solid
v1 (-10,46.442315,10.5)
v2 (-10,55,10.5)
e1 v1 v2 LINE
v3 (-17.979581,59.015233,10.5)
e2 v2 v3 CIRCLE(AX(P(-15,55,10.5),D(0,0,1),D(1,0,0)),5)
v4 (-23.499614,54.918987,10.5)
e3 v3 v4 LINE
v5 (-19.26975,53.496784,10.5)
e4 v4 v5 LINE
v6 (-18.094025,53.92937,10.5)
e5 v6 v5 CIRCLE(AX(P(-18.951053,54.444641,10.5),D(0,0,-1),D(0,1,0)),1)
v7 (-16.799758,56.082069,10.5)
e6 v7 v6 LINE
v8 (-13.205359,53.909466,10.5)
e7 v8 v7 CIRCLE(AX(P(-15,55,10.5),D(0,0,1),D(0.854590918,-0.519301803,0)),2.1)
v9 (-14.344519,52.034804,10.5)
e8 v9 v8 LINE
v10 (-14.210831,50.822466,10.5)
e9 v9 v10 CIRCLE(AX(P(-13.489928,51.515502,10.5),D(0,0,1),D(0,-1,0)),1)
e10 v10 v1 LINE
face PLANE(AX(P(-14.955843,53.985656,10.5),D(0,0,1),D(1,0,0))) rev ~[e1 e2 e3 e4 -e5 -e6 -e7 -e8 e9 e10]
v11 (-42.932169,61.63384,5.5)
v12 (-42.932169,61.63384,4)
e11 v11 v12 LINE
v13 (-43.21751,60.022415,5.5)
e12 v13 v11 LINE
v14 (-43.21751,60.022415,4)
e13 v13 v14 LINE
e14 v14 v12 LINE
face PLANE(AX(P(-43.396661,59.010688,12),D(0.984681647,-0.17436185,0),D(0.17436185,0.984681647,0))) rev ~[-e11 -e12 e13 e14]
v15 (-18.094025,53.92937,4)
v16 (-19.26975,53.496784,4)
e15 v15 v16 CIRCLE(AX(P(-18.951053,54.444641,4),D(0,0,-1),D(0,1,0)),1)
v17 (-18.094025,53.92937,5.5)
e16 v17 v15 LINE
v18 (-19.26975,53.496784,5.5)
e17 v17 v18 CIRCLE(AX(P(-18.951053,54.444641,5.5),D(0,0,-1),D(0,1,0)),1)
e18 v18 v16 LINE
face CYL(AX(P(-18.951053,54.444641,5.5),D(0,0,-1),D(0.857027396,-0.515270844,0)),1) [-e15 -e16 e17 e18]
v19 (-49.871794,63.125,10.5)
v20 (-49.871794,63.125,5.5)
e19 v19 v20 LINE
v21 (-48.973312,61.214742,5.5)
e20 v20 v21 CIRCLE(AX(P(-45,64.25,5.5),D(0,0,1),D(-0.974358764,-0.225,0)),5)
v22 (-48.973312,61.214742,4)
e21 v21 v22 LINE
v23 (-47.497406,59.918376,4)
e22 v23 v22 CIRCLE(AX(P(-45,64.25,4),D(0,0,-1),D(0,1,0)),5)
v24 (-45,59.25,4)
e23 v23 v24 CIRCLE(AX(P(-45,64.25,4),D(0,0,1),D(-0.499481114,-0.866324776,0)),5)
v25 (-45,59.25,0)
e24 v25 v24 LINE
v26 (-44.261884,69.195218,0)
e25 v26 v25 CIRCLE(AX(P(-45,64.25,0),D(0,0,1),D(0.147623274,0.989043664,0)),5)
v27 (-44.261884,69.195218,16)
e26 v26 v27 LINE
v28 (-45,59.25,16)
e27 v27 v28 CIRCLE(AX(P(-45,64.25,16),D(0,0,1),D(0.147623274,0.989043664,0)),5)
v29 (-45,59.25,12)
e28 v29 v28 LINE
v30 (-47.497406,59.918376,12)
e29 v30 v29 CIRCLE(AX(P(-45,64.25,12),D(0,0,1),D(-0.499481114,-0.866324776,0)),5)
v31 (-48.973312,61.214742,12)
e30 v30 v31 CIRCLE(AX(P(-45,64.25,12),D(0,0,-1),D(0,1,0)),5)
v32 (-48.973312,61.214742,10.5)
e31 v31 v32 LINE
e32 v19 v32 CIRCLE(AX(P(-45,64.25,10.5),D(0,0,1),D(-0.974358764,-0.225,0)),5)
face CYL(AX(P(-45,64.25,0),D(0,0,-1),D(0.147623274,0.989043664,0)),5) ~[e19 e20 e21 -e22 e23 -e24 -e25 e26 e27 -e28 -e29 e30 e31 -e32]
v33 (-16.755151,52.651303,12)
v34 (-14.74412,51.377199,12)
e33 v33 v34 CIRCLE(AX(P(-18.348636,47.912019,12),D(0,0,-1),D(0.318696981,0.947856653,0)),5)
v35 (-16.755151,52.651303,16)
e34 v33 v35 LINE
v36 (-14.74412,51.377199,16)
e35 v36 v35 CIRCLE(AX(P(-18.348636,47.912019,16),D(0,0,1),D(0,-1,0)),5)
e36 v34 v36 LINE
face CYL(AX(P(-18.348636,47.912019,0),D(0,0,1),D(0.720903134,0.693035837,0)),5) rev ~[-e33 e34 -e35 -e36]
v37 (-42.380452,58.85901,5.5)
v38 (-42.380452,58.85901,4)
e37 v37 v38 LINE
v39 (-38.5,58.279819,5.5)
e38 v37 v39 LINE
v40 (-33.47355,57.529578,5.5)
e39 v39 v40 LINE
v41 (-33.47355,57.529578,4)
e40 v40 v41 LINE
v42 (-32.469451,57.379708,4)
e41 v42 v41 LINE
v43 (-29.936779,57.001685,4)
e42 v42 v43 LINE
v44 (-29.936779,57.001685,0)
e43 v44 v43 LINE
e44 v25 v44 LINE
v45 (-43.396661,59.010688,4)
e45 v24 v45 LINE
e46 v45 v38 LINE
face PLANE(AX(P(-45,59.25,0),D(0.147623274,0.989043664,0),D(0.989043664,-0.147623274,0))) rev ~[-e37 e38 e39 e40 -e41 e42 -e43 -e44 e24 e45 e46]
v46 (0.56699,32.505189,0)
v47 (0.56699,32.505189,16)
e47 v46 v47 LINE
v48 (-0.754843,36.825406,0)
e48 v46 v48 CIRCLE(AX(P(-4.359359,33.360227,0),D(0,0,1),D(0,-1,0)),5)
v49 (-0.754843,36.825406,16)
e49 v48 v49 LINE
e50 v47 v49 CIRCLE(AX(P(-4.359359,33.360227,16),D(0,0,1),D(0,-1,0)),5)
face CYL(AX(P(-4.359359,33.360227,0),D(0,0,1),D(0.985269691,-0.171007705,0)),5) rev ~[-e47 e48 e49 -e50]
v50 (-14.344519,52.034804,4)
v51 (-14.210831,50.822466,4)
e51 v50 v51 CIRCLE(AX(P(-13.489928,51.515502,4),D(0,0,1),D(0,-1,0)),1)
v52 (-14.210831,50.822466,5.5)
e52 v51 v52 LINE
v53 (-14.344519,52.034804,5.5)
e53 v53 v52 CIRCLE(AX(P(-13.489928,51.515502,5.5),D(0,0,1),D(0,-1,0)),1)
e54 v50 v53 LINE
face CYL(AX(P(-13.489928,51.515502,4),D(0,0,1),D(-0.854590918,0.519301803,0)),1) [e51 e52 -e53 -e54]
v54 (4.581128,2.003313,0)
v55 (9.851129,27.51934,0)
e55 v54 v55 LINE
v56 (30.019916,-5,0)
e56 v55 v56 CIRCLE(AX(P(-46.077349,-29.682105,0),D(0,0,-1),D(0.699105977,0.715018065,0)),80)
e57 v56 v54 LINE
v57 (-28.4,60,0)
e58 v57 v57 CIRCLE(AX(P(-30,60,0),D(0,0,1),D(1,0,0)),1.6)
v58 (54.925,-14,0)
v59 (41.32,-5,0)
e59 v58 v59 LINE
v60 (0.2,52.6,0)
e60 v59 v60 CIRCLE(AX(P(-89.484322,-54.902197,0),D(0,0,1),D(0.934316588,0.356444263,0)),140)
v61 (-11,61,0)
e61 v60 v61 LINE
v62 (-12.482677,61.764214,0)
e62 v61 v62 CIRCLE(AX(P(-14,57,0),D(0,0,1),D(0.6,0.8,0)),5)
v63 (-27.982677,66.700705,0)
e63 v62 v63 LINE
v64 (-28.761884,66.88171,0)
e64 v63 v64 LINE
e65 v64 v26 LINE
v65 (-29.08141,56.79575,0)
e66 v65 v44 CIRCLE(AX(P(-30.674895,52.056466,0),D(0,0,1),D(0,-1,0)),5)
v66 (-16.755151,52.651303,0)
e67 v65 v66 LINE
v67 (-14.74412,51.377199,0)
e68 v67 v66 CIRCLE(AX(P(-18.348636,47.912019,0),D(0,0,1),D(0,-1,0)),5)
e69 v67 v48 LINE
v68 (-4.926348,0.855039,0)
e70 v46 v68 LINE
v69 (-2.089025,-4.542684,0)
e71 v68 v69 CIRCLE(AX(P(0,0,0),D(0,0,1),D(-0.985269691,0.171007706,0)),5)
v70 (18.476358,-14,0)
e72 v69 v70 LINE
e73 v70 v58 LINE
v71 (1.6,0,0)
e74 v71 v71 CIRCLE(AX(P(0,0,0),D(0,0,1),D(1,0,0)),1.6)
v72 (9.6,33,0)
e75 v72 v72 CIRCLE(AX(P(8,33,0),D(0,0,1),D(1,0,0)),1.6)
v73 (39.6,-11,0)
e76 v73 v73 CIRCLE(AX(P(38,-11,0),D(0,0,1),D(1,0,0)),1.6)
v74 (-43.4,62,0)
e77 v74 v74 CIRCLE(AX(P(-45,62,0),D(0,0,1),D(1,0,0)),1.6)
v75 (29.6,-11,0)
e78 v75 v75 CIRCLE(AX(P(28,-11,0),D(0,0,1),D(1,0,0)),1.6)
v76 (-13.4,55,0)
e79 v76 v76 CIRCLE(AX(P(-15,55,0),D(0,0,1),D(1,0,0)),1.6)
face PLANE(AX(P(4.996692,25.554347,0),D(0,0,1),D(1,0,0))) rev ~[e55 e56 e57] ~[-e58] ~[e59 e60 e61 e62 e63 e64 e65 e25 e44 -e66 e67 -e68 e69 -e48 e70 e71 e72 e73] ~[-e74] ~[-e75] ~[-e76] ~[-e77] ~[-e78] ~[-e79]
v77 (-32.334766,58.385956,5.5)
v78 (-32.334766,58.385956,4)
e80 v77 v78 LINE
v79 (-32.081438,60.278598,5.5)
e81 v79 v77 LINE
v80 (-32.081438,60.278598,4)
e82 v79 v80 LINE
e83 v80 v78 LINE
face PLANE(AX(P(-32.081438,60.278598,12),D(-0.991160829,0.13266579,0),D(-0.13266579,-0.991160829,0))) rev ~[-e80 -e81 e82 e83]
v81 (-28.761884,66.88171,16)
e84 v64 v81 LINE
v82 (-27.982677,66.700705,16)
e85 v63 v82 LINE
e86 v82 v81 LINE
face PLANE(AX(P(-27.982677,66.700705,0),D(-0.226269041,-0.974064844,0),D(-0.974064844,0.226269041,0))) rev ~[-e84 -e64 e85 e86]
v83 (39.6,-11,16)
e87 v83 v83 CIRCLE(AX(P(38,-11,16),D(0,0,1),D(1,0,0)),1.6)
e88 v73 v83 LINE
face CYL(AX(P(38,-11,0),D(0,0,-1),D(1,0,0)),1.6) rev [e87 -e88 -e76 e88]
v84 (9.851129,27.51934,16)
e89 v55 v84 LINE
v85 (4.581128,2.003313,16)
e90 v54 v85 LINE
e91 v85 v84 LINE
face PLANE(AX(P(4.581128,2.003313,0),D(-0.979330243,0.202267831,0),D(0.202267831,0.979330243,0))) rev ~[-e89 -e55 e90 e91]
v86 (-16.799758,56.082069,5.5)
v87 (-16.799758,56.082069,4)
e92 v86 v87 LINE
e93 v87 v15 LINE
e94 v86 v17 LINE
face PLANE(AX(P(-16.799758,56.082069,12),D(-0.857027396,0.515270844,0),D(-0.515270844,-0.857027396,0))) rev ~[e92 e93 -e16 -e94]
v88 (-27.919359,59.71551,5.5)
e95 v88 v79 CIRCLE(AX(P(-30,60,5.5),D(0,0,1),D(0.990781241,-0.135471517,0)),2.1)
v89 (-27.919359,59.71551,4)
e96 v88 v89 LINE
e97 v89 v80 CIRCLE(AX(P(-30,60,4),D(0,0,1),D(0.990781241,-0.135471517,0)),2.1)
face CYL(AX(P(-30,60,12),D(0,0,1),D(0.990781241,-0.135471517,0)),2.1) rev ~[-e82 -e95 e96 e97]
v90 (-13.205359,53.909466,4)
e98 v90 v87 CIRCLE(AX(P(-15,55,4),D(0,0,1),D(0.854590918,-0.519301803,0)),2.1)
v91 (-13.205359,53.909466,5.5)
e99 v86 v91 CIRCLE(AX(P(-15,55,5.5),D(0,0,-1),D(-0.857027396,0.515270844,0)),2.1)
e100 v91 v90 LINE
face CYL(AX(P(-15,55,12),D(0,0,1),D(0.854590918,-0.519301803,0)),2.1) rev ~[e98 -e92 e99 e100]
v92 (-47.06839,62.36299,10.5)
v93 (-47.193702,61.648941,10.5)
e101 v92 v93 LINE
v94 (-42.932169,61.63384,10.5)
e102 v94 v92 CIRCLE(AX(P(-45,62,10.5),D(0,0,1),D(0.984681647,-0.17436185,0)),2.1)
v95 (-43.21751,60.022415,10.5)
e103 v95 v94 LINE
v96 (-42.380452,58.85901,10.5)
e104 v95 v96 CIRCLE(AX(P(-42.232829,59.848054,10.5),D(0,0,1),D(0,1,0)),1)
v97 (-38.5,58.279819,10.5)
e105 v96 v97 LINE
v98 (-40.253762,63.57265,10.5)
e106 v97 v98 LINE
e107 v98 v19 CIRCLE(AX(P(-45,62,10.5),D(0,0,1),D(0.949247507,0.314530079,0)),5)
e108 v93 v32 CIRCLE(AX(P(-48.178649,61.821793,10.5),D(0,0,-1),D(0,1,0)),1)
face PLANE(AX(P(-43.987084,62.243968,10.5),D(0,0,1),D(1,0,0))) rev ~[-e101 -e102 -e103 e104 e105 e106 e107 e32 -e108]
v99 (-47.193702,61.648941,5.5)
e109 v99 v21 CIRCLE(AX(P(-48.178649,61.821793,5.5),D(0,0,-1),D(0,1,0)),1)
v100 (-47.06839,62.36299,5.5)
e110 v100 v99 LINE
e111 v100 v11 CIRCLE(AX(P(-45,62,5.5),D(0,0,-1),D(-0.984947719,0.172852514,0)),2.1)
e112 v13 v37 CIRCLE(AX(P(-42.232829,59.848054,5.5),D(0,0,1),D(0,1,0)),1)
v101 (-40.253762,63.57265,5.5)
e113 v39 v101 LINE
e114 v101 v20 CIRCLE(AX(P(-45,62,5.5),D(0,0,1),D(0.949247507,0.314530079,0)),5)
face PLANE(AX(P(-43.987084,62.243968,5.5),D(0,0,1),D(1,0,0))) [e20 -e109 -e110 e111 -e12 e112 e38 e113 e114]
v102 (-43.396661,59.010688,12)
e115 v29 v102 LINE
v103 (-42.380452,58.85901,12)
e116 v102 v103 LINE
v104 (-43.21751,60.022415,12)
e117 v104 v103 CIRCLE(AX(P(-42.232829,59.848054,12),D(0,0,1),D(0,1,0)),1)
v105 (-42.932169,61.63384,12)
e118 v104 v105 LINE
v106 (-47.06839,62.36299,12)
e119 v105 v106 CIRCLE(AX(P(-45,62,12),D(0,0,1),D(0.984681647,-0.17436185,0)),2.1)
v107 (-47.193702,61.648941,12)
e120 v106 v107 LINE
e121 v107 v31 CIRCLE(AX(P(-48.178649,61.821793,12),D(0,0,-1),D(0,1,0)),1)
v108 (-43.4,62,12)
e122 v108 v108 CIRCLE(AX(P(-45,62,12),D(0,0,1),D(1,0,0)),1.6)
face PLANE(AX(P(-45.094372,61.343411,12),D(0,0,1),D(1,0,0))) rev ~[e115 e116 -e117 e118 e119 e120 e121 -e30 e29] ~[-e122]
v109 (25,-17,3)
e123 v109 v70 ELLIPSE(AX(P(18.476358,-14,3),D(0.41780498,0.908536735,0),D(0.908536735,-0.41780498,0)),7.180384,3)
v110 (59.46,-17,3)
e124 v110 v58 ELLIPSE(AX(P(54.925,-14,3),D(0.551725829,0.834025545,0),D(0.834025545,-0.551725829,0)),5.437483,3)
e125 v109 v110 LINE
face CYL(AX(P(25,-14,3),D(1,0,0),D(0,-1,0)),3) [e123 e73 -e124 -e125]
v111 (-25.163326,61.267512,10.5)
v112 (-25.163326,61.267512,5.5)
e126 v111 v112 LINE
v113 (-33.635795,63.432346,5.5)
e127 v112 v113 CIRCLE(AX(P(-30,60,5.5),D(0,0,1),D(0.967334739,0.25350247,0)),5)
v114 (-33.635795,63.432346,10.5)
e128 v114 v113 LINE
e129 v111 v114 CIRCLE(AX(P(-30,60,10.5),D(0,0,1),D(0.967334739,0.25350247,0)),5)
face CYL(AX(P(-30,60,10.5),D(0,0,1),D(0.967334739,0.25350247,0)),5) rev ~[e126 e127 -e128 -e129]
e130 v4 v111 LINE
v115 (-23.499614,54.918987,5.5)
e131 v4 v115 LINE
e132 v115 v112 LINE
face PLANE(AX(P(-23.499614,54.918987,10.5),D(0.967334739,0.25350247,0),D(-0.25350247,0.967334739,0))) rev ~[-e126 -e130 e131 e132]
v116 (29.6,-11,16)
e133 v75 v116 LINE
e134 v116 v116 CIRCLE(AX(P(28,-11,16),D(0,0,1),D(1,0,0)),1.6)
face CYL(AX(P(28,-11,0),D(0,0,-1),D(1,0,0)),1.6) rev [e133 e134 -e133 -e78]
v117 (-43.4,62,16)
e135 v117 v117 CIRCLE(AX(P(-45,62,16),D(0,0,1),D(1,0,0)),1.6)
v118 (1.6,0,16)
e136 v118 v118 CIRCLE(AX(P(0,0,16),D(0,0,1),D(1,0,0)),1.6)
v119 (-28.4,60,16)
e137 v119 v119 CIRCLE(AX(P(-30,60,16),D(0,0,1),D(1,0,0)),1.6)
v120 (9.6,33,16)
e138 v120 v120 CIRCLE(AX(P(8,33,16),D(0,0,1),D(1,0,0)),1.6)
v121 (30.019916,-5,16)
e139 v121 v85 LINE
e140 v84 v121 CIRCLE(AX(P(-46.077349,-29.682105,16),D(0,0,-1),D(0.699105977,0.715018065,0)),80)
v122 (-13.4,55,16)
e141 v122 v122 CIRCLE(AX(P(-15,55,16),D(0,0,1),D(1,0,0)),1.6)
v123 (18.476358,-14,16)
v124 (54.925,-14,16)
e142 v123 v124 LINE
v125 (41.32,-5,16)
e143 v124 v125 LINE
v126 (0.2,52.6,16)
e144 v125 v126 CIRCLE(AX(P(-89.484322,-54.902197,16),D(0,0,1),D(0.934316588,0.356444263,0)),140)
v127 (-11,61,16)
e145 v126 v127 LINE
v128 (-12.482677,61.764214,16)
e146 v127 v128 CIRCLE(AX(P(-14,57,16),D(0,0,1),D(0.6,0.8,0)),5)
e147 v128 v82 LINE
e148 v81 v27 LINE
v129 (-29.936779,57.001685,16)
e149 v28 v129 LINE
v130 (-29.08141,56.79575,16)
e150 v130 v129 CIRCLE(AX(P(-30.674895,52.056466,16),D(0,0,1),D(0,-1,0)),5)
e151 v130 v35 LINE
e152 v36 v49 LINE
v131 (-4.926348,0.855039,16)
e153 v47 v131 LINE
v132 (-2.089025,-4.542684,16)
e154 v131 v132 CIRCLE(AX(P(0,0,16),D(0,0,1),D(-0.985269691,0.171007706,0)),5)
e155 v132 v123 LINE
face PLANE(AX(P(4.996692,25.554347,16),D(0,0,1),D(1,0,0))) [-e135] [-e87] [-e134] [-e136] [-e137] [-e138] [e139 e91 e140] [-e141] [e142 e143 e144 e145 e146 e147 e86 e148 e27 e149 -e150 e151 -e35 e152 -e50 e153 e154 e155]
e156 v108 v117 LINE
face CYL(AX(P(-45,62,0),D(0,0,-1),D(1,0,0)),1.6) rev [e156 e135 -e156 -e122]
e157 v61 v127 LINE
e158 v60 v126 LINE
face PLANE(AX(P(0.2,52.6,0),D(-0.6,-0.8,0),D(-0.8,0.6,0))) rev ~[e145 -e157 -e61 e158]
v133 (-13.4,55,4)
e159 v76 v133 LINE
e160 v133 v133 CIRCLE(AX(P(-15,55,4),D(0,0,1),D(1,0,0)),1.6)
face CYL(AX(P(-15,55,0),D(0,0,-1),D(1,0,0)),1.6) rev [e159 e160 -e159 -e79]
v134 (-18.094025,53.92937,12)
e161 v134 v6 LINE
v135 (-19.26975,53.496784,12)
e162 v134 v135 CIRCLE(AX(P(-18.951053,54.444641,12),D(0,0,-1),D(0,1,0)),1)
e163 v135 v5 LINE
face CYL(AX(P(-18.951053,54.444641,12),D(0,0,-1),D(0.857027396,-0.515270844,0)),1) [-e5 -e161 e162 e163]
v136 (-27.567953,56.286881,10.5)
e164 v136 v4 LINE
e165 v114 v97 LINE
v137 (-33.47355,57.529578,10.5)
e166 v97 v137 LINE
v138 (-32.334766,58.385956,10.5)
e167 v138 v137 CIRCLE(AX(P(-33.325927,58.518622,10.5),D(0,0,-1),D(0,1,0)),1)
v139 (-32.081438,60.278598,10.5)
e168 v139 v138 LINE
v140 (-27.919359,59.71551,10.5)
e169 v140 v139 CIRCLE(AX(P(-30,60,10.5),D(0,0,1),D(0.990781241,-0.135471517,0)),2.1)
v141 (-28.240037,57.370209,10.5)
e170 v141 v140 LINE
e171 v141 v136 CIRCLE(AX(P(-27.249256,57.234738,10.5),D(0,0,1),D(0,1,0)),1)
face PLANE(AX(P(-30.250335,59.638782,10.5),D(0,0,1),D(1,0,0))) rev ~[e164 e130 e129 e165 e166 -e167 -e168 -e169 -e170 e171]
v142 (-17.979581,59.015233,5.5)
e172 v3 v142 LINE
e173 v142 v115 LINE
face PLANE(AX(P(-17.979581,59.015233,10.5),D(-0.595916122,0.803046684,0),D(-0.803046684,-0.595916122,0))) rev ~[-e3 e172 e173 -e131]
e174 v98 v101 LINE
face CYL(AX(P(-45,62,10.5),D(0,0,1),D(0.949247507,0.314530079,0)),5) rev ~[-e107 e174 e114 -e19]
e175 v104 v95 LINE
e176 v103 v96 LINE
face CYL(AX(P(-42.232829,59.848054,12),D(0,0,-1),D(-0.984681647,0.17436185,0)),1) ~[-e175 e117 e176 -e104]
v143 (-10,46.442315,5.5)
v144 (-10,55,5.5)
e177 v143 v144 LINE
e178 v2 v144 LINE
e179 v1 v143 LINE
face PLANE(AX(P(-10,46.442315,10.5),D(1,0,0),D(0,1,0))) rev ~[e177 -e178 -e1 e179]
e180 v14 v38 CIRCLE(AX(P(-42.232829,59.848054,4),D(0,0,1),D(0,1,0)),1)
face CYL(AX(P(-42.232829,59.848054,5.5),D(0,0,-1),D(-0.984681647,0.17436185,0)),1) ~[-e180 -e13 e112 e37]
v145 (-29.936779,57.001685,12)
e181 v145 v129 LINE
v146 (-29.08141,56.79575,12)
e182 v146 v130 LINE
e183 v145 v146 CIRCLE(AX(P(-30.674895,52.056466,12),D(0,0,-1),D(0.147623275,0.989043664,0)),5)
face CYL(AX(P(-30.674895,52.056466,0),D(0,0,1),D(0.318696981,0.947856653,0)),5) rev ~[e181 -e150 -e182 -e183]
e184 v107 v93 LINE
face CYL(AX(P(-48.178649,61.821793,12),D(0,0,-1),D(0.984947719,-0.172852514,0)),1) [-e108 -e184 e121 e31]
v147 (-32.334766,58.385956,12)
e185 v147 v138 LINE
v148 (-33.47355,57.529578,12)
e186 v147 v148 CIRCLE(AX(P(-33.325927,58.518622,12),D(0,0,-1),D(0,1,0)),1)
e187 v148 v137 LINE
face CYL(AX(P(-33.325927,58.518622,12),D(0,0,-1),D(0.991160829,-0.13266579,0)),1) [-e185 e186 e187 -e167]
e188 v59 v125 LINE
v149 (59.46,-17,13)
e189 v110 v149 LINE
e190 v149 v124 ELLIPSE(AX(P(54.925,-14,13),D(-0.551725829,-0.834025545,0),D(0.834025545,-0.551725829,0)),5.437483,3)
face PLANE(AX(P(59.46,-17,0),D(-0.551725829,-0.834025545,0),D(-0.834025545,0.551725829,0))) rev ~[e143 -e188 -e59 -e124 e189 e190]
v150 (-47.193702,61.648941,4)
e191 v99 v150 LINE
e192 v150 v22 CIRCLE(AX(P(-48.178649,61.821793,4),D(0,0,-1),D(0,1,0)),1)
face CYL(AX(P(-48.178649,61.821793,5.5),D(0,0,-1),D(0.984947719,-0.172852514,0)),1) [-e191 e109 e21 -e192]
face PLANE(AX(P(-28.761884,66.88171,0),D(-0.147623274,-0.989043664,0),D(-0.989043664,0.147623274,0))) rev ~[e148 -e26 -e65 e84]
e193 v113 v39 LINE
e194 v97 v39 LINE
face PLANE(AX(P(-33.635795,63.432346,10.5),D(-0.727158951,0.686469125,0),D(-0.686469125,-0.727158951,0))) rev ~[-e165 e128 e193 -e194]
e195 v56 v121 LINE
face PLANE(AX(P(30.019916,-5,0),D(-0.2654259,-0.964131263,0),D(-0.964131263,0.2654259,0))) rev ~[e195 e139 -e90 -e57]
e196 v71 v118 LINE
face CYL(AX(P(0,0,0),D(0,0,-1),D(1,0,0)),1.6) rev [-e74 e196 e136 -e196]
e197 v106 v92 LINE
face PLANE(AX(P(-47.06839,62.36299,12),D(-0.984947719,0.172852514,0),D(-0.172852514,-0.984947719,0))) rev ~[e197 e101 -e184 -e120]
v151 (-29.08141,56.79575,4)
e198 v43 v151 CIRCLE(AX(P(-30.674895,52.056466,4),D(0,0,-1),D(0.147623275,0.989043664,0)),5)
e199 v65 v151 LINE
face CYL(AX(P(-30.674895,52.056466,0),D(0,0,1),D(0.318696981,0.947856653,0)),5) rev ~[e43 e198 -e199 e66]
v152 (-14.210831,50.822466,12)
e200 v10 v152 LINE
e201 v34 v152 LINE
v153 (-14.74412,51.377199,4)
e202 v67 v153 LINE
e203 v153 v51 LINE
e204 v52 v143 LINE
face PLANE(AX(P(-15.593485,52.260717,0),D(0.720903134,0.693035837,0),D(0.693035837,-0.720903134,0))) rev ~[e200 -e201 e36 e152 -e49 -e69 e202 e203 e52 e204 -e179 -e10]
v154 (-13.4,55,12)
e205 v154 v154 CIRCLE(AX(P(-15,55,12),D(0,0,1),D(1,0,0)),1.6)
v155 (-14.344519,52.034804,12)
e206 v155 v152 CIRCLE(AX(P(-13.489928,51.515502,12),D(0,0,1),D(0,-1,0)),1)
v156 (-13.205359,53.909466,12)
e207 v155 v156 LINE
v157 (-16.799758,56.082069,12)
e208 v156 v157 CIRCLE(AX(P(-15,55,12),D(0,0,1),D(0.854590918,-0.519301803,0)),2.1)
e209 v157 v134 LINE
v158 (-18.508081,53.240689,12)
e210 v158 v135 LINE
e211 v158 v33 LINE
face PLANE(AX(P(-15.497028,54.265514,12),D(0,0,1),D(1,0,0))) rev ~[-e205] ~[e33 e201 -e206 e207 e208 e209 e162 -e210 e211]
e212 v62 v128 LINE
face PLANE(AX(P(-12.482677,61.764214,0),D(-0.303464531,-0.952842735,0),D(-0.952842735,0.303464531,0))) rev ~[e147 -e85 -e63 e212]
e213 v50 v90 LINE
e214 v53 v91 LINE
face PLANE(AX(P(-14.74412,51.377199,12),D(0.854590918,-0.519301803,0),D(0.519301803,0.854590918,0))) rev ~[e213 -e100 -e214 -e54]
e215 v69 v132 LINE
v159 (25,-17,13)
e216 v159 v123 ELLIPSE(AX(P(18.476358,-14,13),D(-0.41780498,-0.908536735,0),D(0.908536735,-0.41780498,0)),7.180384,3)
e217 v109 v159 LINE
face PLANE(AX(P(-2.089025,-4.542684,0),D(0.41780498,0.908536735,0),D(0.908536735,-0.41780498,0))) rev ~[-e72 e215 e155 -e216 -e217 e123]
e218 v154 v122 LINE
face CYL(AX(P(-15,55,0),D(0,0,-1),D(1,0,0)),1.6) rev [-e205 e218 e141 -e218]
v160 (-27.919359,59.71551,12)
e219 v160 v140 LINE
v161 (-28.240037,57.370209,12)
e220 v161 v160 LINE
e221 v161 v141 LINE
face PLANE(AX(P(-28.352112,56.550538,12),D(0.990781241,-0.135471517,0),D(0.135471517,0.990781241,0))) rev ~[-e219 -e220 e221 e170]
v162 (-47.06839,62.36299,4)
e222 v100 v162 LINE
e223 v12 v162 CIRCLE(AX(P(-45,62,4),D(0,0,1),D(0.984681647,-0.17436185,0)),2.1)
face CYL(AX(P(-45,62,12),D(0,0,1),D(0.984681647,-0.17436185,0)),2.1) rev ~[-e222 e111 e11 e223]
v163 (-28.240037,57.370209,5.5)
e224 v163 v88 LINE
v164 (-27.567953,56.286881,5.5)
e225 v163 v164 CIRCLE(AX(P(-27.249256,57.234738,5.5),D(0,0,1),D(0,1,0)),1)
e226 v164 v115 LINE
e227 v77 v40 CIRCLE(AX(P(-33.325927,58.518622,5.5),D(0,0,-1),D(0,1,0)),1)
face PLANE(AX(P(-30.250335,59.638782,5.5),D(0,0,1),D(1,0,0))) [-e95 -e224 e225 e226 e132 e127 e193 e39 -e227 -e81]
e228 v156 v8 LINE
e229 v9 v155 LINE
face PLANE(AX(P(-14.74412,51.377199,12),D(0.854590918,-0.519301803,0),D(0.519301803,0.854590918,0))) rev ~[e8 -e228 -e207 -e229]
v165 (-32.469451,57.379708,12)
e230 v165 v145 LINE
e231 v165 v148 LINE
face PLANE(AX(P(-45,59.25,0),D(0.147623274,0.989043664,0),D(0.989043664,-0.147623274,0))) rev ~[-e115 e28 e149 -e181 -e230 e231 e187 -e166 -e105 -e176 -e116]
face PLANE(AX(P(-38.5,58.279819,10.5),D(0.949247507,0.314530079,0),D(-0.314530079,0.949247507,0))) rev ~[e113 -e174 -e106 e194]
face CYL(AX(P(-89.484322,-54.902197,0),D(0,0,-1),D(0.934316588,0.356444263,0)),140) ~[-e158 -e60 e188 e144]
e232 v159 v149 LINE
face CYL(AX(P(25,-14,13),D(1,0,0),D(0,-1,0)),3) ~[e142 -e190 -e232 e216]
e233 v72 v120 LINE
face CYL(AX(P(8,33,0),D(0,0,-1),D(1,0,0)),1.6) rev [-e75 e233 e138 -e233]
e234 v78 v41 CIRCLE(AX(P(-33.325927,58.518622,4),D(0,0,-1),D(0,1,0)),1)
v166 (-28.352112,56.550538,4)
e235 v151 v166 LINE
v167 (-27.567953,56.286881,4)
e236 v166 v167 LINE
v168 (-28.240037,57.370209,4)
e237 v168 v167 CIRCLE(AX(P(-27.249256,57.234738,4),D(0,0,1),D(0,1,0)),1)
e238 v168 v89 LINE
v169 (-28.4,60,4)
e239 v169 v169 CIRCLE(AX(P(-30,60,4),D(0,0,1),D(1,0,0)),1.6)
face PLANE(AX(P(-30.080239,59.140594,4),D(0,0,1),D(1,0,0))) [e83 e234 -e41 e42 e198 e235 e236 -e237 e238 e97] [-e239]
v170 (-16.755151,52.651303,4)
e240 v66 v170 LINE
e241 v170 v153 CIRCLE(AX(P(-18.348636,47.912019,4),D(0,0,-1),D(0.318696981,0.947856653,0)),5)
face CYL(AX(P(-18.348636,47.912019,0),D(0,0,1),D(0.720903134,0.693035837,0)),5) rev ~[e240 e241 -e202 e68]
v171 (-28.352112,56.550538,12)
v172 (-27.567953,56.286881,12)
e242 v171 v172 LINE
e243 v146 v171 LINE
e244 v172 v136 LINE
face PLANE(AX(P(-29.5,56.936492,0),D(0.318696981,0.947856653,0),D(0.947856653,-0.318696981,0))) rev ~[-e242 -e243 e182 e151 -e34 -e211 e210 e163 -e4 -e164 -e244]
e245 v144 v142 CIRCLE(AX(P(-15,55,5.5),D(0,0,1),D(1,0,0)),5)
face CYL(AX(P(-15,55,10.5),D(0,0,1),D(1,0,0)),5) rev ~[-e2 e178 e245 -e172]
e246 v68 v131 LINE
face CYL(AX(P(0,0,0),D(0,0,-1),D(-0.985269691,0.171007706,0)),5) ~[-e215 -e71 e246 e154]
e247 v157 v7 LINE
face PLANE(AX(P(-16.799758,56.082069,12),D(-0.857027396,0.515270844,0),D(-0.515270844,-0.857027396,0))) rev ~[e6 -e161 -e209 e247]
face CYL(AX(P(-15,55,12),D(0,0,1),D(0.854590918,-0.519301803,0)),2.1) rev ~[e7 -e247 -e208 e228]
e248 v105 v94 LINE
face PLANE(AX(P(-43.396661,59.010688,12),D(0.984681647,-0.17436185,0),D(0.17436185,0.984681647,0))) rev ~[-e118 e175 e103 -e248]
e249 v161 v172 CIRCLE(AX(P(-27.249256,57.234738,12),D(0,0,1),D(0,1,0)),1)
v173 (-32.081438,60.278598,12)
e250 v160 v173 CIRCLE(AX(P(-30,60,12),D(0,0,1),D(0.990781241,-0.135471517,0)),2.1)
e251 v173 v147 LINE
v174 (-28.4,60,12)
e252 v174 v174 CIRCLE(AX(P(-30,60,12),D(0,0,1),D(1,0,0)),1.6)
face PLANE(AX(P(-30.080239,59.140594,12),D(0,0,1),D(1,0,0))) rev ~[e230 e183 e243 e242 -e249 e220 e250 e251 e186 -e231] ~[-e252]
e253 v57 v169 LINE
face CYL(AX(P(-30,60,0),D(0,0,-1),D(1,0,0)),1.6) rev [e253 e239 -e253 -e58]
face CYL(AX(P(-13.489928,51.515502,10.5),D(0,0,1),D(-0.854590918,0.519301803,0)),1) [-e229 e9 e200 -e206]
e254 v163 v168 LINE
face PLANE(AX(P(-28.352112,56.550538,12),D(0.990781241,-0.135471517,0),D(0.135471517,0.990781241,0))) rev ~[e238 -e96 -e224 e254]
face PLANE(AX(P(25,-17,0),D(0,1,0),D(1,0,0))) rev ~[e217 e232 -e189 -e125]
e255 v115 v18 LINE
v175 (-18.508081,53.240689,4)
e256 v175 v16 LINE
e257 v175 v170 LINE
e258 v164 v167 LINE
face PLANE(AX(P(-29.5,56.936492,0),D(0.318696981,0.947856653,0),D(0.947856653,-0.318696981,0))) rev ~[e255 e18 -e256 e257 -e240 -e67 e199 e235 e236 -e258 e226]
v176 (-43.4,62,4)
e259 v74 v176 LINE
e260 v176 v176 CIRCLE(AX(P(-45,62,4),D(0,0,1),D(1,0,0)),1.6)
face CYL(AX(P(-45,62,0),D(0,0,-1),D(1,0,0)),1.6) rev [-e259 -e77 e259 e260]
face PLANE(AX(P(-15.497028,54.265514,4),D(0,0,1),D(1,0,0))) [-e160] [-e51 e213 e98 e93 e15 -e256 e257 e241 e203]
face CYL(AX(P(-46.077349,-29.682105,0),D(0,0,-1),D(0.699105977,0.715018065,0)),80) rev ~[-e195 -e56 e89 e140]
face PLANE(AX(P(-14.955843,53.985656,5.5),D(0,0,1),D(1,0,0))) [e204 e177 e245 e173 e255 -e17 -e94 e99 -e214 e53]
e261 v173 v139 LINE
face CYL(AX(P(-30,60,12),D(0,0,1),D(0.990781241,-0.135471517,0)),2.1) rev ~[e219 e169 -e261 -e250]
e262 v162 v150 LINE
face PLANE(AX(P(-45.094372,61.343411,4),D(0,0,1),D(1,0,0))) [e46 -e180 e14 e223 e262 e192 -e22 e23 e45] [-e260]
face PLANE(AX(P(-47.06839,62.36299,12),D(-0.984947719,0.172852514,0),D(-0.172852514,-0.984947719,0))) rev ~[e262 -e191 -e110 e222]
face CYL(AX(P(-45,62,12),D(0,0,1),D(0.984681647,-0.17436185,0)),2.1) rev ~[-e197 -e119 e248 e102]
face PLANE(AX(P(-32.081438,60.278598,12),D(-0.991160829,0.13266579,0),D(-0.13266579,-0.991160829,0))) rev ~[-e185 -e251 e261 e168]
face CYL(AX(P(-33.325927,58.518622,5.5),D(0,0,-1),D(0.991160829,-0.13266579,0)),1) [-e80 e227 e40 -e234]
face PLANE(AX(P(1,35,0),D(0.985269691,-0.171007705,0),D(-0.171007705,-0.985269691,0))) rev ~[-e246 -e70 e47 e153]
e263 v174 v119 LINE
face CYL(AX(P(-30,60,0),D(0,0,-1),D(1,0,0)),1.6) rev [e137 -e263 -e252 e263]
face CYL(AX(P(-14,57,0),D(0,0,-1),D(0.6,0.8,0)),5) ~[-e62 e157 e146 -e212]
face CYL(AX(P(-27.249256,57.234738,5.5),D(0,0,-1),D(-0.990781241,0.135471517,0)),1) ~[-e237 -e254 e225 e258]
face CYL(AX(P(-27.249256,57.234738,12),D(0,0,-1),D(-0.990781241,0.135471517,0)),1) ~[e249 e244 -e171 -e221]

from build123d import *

# Parameters (mm, degrees)
SKETCH1_R           = 1.6
BOSS_EXTRUDE1_DEPTH = 16
FILLET1_R           = 3
FILLET2_R           = 5
CUT_EXTRUDE1_START  = -5.5
SKETCH2_R           = 2.1
SKETCH2_R_2         = 1.6
CUT_EXTRUDE1_DEPTH  = 5
CUT_EXTRUDE2_START  = -4
SKETCH2_4_R         = 1.6
CUT_EXTRUDE2_DEPTH  = 8
FILLET3_R           = 1


with BuildPart() as part:
    # Sketch1 → Boss-Extrude1 (new body)
    with BuildSketch(Plane.XY):
        with BuildLine():
            Line((59.46, -17), (41.32, -5))
            ThreePointArc((41.32, -5), (24.459745553, 26.441207242), (0.2, 52.6))
            Line((0.2, 52.6), (-11, 61))
            ThreePointArc((-11, 61), (-11.709245402, 61.444372101), (-12.482677345, 61.764213677))
            Line((-12.482677345, 61.764213677), (-27.982677345, 66.70070535))
            Line((-27.982677345, 66.70070535), (-28.761883628, 66.881709992))
            Line((-28.761883628, 66.881709992), (-44.261883628, 69.195218319))
            ThreePointArc((-44.261883628, 69.195218319), (-49.986285772, 64.62007324), (-45, 59.25))
            Line((-45, 59.25), (-29.5, 56.936491673))
            Line((-29.5, 56.936491673), (-15.593484906, 52.260716736))
            Line((-15.593484906, 52.260716736), (1, 35))
            Line((1, 35), (-4.926348457, 0.855038527))
            ThreePointArc((-4.926348457, 0.855038527), (-4.425801292, -2.326431372), (-2.089024899, -4.542683675))
            Line((-2.089024899, -4.542683675), (25, -17))
            Line((25, -17), (59.46, -17))
        make_face()
        with Locations((28, -11)):
            Circle(SKETCH1_R, mode=Mode.SUBTRACT)
        with Locations((38, -11)):
            Circle(SKETCH1_R, mode=Mode.SUBTRACT)
        with BuildLine():
            Line((30.019916022, -5), (4.581128304, 2.00331312))
            Line((4.581128304, 2.00331312), (9.851129428, 27.519340358))
            ThreePointArc((9.851129428, 27.519340358), (21.90850327, 12.483330411), (30.019916022, -5))
        make_face(mode=Mode.SUBTRACT)
        with Locations((-45, 62)):
            Circle(SKETCH1_R, mode=Mode.SUBTRACT)
        with Locations((-30, 60)):
            Circle(SKETCH1_R, mode=Mode.SUBTRACT)
        with Locations((-15, 55)):
            Circle(SKETCH1_R, mode=Mode.SUBTRACT)
        with Locations((8, 33)):
            Circle(SKETCH1_R, mode=Mode.SUBTRACT)
        Circle(SKETCH1_R, mode=Mode.SUBTRACT)
    extrude(amount=BOSS_EXTRUDE1_DEPTH)

    # Fillet1
    fillet1_edges = [part.edges().sort_by_distance(p)[0] for p in [
        (42.23, -17, 0),
        (42.23, -17, 16),
    ]]
    fillet(fillet1_edges, radius=FILLET1_R)

    # Fillet2
    fillet2_edges = [part.edges().sort_by_distance(p)[0] for p in [
        (1, 35, 8),
        (-15.593484906, 52.260716736, 8),
        (-29.5, 56.936491673, 8),
    ]]
    fillet(fillet2_edges, radius=FILLET2_R)

    # Sketch2 → Cut-Extrude1 (cut)
    # profile 1 of 3: a face of its own
    with BuildSketch(Plane.XY.offset(16).offset(CUT_EXTRUDE1_START)):
        with BuildLine():
            Line((-23.499613929, 54.918987315), (-16.755150829, 52.651302614))
            ThreePointArc((-16.755150829, 52.651302614), (-15.672698928, 52.135686265), (-14.744120066, 51.377198536))
            Line((-14.744120066, 51.377198536), (-10, 46.442315172))
            Line((-10, 46.442315172), (-10, 55))
            ThreePointArc((-10, 55), (-12.752546223, 59.466424915), (-17.979580608, 59.015233418))
            Line((-17.979580608, 59.015233418), (-23.499613929, 54.918987315))
        make_face()
        with Locations((-15, 55)):
            Circle(SKETCH2_R, mode=Mode.SUBTRACT)
    # profile 2 of 3: a face of its own
    with BuildSketch(Plane.XY.offset(16).offset(CUT_EXTRUDE1_START)):
        with BuildLine():
            Line((-23.499613929, 54.918987315), (-25.163326304, 61.267512349))
            ThreePointArc((-25.163326304, 61.267512349), (-28.762198184, 64.844362359), (-33.635794756, 63.432345625))
            Line((-33.635794756, 63.432345625), (-38.5, 58.279819089))
            Line((-38.5, 58.279819089), (-29.936778714, 57.001684653))
            ThreePointArc((-29.936778714, 57.001684653), (-29.504556057, 56.917567707), (-29.081410179, 56.795749598))
            Line((-29.081410179, 56.795749598), (-23.499613929, 54.918987315))
        make_face()
        with Locations((-30, 60)):
            Circle(SKETCH2_R_2, mode=Mode.SUBTRACT)
    # profile 3 of 3: a face of its own
    with BuildSketch(Plane.XY.offset(16).offset(CUT_EXTRUDE1_START)):
        with BuildLine():
            Line((-38.5, 58.279819089), (-40.253762465, 63.572650394))
            ThreePointArc((-40.253762465, 63.572650394), (-45.2324625, 66.994593195), (-49.871793817, 63.125))
            ThreePointArc((-49.871793817, 63.125), (-48.112474899, 60.336881039), (-45, 59.25))
            Line((-45, 59.25), (-38.5, 58.279819089))
        make_face()
        with Locations((-45, 62)):
            Circle(SKETCH2_R, mode=Mode.SUBTRACT)
    extrude(amount=-CUT_EXTRUDE1_DEPTH, mode=Mode.SUBTRACT)

    # Sketch2<4> → Cut-Extrude2 (cut)
    # profile 1 of 3: a face of its own
    with BuildSketch(Plane.XY.offset(16).offset(CUT_EXTRUDE2_START)):
        with BuildLine():
            Line((-16.799757531, 56.082068773), (-18.50808127, 53.240688824))
            Line((-18.50808127, 53.240688824), (-16.755150829, 52.651302614))
            ThreePointArc((-16.755150829, 52.651302614), (-15.672698928, 52.135686265), (-14.744120066, 51.377198536))
            Line((-14.744120066, 51.377198536), (-13.205359072, 53.909466214))
            ThreePointArc((-13.205359072, 53.909466214), (-13.913695708, 56.797204214), (-16.799757531, 56.082068773))
        make_face()
        with Locations((-15, 55)):
            Circle(SKETCH2_4_R, mode=Mode.SUBTRACT)
    # profile 2 of 3: a face of its own
    with BuildSketch(Plane.XY.offset(16).offset(CUT_EXTRUDE2_START)):
        with BuildLine():
            Line((-29.081410179, 56.795749598), (-28.352112311, 56.550538438))
            Line((-28.352112311, 56.550538438), (-27.919359393, 59.715509815))
            ThreePointArc((-27.919359393, 59.715509815), (-29.718455545, 62.081041259), (-32.08143774, 60.27859816))
            Line((-32.08143774, 60.27859816), (-32.469451039, 57.379707783))
            Line((-32.469451039, 57.379707783), (-29.936778714, 57.001684653))
            ThreePointArc((-29.936778714, 57.001684653), (-29.504556057, 56.917567707), (-29.081410179, 56.795749598))
        make_face()
        with Locations((-30, 60)):
            Circle(SKETCH2_4_R, mode=Mode.SUBTRACT)
    # profile 3 of 3: a face of its own
    with BuildSketch(Plane.XY.offset(16).offset(CUT_EXTRUDE2_START)):
        with BuildLine():
            Line((-45, 59.25), (-43.396661475, 59.010687934))
            Line((-43.396661475, 59.010687934), (-42.932168542, 61.633840116))
            ThreePointArc((-42.932168542, 61.633840116), (-44.635424811, 64.068111441), (-47.068390209, 62.36299028))
            Line((-47.068390209, 62.36299028), (-47.497405572, 59.918376123))
            ThreePointArc((-47.497405572, 59.918376123), (-46.292648563, 59.419983469), (-45, 59.25))
        make_face()
        with Locations((-45, 62)):
            Circle(SKETCH2_4_R, mode=Mode.SUBTRACT)
    extrude(amount=-CUT_EXTRUDE2_DEPTH, mode=Mode.SUBTRACT)

    # Fillet3
    fillet3_edges = [part.edges().sort_by_distance(p)[0] for p in [
        (-14.744120066, 51.377198536, 4.75),
        (-14.744120066, 51.377198536, 11.25),
        (-18.50808127, 53.240688824, 11.25),
        (-18.50808127, 53.240688824, 4.75),
        (-43.396661475, 59.010687934, 11.25),
        (-47.497405572, 59.918376123, 11.25),
        (-43.396661475, 59.010687934, 4.75),
        (-47.497405572, 59.918376123, 4.75),
        (-28.352112311, 56.550538438, 11.25),
        (-32.469451039, 57.379707783, 11.25),
        (-28.352112311, 56.550538438, 4.75),
        (-32.469451039, 57.379707783, 4.75),
    ]]
    fillet(fillet3_edges, radius=FILLET3_R)


solid = part.part
